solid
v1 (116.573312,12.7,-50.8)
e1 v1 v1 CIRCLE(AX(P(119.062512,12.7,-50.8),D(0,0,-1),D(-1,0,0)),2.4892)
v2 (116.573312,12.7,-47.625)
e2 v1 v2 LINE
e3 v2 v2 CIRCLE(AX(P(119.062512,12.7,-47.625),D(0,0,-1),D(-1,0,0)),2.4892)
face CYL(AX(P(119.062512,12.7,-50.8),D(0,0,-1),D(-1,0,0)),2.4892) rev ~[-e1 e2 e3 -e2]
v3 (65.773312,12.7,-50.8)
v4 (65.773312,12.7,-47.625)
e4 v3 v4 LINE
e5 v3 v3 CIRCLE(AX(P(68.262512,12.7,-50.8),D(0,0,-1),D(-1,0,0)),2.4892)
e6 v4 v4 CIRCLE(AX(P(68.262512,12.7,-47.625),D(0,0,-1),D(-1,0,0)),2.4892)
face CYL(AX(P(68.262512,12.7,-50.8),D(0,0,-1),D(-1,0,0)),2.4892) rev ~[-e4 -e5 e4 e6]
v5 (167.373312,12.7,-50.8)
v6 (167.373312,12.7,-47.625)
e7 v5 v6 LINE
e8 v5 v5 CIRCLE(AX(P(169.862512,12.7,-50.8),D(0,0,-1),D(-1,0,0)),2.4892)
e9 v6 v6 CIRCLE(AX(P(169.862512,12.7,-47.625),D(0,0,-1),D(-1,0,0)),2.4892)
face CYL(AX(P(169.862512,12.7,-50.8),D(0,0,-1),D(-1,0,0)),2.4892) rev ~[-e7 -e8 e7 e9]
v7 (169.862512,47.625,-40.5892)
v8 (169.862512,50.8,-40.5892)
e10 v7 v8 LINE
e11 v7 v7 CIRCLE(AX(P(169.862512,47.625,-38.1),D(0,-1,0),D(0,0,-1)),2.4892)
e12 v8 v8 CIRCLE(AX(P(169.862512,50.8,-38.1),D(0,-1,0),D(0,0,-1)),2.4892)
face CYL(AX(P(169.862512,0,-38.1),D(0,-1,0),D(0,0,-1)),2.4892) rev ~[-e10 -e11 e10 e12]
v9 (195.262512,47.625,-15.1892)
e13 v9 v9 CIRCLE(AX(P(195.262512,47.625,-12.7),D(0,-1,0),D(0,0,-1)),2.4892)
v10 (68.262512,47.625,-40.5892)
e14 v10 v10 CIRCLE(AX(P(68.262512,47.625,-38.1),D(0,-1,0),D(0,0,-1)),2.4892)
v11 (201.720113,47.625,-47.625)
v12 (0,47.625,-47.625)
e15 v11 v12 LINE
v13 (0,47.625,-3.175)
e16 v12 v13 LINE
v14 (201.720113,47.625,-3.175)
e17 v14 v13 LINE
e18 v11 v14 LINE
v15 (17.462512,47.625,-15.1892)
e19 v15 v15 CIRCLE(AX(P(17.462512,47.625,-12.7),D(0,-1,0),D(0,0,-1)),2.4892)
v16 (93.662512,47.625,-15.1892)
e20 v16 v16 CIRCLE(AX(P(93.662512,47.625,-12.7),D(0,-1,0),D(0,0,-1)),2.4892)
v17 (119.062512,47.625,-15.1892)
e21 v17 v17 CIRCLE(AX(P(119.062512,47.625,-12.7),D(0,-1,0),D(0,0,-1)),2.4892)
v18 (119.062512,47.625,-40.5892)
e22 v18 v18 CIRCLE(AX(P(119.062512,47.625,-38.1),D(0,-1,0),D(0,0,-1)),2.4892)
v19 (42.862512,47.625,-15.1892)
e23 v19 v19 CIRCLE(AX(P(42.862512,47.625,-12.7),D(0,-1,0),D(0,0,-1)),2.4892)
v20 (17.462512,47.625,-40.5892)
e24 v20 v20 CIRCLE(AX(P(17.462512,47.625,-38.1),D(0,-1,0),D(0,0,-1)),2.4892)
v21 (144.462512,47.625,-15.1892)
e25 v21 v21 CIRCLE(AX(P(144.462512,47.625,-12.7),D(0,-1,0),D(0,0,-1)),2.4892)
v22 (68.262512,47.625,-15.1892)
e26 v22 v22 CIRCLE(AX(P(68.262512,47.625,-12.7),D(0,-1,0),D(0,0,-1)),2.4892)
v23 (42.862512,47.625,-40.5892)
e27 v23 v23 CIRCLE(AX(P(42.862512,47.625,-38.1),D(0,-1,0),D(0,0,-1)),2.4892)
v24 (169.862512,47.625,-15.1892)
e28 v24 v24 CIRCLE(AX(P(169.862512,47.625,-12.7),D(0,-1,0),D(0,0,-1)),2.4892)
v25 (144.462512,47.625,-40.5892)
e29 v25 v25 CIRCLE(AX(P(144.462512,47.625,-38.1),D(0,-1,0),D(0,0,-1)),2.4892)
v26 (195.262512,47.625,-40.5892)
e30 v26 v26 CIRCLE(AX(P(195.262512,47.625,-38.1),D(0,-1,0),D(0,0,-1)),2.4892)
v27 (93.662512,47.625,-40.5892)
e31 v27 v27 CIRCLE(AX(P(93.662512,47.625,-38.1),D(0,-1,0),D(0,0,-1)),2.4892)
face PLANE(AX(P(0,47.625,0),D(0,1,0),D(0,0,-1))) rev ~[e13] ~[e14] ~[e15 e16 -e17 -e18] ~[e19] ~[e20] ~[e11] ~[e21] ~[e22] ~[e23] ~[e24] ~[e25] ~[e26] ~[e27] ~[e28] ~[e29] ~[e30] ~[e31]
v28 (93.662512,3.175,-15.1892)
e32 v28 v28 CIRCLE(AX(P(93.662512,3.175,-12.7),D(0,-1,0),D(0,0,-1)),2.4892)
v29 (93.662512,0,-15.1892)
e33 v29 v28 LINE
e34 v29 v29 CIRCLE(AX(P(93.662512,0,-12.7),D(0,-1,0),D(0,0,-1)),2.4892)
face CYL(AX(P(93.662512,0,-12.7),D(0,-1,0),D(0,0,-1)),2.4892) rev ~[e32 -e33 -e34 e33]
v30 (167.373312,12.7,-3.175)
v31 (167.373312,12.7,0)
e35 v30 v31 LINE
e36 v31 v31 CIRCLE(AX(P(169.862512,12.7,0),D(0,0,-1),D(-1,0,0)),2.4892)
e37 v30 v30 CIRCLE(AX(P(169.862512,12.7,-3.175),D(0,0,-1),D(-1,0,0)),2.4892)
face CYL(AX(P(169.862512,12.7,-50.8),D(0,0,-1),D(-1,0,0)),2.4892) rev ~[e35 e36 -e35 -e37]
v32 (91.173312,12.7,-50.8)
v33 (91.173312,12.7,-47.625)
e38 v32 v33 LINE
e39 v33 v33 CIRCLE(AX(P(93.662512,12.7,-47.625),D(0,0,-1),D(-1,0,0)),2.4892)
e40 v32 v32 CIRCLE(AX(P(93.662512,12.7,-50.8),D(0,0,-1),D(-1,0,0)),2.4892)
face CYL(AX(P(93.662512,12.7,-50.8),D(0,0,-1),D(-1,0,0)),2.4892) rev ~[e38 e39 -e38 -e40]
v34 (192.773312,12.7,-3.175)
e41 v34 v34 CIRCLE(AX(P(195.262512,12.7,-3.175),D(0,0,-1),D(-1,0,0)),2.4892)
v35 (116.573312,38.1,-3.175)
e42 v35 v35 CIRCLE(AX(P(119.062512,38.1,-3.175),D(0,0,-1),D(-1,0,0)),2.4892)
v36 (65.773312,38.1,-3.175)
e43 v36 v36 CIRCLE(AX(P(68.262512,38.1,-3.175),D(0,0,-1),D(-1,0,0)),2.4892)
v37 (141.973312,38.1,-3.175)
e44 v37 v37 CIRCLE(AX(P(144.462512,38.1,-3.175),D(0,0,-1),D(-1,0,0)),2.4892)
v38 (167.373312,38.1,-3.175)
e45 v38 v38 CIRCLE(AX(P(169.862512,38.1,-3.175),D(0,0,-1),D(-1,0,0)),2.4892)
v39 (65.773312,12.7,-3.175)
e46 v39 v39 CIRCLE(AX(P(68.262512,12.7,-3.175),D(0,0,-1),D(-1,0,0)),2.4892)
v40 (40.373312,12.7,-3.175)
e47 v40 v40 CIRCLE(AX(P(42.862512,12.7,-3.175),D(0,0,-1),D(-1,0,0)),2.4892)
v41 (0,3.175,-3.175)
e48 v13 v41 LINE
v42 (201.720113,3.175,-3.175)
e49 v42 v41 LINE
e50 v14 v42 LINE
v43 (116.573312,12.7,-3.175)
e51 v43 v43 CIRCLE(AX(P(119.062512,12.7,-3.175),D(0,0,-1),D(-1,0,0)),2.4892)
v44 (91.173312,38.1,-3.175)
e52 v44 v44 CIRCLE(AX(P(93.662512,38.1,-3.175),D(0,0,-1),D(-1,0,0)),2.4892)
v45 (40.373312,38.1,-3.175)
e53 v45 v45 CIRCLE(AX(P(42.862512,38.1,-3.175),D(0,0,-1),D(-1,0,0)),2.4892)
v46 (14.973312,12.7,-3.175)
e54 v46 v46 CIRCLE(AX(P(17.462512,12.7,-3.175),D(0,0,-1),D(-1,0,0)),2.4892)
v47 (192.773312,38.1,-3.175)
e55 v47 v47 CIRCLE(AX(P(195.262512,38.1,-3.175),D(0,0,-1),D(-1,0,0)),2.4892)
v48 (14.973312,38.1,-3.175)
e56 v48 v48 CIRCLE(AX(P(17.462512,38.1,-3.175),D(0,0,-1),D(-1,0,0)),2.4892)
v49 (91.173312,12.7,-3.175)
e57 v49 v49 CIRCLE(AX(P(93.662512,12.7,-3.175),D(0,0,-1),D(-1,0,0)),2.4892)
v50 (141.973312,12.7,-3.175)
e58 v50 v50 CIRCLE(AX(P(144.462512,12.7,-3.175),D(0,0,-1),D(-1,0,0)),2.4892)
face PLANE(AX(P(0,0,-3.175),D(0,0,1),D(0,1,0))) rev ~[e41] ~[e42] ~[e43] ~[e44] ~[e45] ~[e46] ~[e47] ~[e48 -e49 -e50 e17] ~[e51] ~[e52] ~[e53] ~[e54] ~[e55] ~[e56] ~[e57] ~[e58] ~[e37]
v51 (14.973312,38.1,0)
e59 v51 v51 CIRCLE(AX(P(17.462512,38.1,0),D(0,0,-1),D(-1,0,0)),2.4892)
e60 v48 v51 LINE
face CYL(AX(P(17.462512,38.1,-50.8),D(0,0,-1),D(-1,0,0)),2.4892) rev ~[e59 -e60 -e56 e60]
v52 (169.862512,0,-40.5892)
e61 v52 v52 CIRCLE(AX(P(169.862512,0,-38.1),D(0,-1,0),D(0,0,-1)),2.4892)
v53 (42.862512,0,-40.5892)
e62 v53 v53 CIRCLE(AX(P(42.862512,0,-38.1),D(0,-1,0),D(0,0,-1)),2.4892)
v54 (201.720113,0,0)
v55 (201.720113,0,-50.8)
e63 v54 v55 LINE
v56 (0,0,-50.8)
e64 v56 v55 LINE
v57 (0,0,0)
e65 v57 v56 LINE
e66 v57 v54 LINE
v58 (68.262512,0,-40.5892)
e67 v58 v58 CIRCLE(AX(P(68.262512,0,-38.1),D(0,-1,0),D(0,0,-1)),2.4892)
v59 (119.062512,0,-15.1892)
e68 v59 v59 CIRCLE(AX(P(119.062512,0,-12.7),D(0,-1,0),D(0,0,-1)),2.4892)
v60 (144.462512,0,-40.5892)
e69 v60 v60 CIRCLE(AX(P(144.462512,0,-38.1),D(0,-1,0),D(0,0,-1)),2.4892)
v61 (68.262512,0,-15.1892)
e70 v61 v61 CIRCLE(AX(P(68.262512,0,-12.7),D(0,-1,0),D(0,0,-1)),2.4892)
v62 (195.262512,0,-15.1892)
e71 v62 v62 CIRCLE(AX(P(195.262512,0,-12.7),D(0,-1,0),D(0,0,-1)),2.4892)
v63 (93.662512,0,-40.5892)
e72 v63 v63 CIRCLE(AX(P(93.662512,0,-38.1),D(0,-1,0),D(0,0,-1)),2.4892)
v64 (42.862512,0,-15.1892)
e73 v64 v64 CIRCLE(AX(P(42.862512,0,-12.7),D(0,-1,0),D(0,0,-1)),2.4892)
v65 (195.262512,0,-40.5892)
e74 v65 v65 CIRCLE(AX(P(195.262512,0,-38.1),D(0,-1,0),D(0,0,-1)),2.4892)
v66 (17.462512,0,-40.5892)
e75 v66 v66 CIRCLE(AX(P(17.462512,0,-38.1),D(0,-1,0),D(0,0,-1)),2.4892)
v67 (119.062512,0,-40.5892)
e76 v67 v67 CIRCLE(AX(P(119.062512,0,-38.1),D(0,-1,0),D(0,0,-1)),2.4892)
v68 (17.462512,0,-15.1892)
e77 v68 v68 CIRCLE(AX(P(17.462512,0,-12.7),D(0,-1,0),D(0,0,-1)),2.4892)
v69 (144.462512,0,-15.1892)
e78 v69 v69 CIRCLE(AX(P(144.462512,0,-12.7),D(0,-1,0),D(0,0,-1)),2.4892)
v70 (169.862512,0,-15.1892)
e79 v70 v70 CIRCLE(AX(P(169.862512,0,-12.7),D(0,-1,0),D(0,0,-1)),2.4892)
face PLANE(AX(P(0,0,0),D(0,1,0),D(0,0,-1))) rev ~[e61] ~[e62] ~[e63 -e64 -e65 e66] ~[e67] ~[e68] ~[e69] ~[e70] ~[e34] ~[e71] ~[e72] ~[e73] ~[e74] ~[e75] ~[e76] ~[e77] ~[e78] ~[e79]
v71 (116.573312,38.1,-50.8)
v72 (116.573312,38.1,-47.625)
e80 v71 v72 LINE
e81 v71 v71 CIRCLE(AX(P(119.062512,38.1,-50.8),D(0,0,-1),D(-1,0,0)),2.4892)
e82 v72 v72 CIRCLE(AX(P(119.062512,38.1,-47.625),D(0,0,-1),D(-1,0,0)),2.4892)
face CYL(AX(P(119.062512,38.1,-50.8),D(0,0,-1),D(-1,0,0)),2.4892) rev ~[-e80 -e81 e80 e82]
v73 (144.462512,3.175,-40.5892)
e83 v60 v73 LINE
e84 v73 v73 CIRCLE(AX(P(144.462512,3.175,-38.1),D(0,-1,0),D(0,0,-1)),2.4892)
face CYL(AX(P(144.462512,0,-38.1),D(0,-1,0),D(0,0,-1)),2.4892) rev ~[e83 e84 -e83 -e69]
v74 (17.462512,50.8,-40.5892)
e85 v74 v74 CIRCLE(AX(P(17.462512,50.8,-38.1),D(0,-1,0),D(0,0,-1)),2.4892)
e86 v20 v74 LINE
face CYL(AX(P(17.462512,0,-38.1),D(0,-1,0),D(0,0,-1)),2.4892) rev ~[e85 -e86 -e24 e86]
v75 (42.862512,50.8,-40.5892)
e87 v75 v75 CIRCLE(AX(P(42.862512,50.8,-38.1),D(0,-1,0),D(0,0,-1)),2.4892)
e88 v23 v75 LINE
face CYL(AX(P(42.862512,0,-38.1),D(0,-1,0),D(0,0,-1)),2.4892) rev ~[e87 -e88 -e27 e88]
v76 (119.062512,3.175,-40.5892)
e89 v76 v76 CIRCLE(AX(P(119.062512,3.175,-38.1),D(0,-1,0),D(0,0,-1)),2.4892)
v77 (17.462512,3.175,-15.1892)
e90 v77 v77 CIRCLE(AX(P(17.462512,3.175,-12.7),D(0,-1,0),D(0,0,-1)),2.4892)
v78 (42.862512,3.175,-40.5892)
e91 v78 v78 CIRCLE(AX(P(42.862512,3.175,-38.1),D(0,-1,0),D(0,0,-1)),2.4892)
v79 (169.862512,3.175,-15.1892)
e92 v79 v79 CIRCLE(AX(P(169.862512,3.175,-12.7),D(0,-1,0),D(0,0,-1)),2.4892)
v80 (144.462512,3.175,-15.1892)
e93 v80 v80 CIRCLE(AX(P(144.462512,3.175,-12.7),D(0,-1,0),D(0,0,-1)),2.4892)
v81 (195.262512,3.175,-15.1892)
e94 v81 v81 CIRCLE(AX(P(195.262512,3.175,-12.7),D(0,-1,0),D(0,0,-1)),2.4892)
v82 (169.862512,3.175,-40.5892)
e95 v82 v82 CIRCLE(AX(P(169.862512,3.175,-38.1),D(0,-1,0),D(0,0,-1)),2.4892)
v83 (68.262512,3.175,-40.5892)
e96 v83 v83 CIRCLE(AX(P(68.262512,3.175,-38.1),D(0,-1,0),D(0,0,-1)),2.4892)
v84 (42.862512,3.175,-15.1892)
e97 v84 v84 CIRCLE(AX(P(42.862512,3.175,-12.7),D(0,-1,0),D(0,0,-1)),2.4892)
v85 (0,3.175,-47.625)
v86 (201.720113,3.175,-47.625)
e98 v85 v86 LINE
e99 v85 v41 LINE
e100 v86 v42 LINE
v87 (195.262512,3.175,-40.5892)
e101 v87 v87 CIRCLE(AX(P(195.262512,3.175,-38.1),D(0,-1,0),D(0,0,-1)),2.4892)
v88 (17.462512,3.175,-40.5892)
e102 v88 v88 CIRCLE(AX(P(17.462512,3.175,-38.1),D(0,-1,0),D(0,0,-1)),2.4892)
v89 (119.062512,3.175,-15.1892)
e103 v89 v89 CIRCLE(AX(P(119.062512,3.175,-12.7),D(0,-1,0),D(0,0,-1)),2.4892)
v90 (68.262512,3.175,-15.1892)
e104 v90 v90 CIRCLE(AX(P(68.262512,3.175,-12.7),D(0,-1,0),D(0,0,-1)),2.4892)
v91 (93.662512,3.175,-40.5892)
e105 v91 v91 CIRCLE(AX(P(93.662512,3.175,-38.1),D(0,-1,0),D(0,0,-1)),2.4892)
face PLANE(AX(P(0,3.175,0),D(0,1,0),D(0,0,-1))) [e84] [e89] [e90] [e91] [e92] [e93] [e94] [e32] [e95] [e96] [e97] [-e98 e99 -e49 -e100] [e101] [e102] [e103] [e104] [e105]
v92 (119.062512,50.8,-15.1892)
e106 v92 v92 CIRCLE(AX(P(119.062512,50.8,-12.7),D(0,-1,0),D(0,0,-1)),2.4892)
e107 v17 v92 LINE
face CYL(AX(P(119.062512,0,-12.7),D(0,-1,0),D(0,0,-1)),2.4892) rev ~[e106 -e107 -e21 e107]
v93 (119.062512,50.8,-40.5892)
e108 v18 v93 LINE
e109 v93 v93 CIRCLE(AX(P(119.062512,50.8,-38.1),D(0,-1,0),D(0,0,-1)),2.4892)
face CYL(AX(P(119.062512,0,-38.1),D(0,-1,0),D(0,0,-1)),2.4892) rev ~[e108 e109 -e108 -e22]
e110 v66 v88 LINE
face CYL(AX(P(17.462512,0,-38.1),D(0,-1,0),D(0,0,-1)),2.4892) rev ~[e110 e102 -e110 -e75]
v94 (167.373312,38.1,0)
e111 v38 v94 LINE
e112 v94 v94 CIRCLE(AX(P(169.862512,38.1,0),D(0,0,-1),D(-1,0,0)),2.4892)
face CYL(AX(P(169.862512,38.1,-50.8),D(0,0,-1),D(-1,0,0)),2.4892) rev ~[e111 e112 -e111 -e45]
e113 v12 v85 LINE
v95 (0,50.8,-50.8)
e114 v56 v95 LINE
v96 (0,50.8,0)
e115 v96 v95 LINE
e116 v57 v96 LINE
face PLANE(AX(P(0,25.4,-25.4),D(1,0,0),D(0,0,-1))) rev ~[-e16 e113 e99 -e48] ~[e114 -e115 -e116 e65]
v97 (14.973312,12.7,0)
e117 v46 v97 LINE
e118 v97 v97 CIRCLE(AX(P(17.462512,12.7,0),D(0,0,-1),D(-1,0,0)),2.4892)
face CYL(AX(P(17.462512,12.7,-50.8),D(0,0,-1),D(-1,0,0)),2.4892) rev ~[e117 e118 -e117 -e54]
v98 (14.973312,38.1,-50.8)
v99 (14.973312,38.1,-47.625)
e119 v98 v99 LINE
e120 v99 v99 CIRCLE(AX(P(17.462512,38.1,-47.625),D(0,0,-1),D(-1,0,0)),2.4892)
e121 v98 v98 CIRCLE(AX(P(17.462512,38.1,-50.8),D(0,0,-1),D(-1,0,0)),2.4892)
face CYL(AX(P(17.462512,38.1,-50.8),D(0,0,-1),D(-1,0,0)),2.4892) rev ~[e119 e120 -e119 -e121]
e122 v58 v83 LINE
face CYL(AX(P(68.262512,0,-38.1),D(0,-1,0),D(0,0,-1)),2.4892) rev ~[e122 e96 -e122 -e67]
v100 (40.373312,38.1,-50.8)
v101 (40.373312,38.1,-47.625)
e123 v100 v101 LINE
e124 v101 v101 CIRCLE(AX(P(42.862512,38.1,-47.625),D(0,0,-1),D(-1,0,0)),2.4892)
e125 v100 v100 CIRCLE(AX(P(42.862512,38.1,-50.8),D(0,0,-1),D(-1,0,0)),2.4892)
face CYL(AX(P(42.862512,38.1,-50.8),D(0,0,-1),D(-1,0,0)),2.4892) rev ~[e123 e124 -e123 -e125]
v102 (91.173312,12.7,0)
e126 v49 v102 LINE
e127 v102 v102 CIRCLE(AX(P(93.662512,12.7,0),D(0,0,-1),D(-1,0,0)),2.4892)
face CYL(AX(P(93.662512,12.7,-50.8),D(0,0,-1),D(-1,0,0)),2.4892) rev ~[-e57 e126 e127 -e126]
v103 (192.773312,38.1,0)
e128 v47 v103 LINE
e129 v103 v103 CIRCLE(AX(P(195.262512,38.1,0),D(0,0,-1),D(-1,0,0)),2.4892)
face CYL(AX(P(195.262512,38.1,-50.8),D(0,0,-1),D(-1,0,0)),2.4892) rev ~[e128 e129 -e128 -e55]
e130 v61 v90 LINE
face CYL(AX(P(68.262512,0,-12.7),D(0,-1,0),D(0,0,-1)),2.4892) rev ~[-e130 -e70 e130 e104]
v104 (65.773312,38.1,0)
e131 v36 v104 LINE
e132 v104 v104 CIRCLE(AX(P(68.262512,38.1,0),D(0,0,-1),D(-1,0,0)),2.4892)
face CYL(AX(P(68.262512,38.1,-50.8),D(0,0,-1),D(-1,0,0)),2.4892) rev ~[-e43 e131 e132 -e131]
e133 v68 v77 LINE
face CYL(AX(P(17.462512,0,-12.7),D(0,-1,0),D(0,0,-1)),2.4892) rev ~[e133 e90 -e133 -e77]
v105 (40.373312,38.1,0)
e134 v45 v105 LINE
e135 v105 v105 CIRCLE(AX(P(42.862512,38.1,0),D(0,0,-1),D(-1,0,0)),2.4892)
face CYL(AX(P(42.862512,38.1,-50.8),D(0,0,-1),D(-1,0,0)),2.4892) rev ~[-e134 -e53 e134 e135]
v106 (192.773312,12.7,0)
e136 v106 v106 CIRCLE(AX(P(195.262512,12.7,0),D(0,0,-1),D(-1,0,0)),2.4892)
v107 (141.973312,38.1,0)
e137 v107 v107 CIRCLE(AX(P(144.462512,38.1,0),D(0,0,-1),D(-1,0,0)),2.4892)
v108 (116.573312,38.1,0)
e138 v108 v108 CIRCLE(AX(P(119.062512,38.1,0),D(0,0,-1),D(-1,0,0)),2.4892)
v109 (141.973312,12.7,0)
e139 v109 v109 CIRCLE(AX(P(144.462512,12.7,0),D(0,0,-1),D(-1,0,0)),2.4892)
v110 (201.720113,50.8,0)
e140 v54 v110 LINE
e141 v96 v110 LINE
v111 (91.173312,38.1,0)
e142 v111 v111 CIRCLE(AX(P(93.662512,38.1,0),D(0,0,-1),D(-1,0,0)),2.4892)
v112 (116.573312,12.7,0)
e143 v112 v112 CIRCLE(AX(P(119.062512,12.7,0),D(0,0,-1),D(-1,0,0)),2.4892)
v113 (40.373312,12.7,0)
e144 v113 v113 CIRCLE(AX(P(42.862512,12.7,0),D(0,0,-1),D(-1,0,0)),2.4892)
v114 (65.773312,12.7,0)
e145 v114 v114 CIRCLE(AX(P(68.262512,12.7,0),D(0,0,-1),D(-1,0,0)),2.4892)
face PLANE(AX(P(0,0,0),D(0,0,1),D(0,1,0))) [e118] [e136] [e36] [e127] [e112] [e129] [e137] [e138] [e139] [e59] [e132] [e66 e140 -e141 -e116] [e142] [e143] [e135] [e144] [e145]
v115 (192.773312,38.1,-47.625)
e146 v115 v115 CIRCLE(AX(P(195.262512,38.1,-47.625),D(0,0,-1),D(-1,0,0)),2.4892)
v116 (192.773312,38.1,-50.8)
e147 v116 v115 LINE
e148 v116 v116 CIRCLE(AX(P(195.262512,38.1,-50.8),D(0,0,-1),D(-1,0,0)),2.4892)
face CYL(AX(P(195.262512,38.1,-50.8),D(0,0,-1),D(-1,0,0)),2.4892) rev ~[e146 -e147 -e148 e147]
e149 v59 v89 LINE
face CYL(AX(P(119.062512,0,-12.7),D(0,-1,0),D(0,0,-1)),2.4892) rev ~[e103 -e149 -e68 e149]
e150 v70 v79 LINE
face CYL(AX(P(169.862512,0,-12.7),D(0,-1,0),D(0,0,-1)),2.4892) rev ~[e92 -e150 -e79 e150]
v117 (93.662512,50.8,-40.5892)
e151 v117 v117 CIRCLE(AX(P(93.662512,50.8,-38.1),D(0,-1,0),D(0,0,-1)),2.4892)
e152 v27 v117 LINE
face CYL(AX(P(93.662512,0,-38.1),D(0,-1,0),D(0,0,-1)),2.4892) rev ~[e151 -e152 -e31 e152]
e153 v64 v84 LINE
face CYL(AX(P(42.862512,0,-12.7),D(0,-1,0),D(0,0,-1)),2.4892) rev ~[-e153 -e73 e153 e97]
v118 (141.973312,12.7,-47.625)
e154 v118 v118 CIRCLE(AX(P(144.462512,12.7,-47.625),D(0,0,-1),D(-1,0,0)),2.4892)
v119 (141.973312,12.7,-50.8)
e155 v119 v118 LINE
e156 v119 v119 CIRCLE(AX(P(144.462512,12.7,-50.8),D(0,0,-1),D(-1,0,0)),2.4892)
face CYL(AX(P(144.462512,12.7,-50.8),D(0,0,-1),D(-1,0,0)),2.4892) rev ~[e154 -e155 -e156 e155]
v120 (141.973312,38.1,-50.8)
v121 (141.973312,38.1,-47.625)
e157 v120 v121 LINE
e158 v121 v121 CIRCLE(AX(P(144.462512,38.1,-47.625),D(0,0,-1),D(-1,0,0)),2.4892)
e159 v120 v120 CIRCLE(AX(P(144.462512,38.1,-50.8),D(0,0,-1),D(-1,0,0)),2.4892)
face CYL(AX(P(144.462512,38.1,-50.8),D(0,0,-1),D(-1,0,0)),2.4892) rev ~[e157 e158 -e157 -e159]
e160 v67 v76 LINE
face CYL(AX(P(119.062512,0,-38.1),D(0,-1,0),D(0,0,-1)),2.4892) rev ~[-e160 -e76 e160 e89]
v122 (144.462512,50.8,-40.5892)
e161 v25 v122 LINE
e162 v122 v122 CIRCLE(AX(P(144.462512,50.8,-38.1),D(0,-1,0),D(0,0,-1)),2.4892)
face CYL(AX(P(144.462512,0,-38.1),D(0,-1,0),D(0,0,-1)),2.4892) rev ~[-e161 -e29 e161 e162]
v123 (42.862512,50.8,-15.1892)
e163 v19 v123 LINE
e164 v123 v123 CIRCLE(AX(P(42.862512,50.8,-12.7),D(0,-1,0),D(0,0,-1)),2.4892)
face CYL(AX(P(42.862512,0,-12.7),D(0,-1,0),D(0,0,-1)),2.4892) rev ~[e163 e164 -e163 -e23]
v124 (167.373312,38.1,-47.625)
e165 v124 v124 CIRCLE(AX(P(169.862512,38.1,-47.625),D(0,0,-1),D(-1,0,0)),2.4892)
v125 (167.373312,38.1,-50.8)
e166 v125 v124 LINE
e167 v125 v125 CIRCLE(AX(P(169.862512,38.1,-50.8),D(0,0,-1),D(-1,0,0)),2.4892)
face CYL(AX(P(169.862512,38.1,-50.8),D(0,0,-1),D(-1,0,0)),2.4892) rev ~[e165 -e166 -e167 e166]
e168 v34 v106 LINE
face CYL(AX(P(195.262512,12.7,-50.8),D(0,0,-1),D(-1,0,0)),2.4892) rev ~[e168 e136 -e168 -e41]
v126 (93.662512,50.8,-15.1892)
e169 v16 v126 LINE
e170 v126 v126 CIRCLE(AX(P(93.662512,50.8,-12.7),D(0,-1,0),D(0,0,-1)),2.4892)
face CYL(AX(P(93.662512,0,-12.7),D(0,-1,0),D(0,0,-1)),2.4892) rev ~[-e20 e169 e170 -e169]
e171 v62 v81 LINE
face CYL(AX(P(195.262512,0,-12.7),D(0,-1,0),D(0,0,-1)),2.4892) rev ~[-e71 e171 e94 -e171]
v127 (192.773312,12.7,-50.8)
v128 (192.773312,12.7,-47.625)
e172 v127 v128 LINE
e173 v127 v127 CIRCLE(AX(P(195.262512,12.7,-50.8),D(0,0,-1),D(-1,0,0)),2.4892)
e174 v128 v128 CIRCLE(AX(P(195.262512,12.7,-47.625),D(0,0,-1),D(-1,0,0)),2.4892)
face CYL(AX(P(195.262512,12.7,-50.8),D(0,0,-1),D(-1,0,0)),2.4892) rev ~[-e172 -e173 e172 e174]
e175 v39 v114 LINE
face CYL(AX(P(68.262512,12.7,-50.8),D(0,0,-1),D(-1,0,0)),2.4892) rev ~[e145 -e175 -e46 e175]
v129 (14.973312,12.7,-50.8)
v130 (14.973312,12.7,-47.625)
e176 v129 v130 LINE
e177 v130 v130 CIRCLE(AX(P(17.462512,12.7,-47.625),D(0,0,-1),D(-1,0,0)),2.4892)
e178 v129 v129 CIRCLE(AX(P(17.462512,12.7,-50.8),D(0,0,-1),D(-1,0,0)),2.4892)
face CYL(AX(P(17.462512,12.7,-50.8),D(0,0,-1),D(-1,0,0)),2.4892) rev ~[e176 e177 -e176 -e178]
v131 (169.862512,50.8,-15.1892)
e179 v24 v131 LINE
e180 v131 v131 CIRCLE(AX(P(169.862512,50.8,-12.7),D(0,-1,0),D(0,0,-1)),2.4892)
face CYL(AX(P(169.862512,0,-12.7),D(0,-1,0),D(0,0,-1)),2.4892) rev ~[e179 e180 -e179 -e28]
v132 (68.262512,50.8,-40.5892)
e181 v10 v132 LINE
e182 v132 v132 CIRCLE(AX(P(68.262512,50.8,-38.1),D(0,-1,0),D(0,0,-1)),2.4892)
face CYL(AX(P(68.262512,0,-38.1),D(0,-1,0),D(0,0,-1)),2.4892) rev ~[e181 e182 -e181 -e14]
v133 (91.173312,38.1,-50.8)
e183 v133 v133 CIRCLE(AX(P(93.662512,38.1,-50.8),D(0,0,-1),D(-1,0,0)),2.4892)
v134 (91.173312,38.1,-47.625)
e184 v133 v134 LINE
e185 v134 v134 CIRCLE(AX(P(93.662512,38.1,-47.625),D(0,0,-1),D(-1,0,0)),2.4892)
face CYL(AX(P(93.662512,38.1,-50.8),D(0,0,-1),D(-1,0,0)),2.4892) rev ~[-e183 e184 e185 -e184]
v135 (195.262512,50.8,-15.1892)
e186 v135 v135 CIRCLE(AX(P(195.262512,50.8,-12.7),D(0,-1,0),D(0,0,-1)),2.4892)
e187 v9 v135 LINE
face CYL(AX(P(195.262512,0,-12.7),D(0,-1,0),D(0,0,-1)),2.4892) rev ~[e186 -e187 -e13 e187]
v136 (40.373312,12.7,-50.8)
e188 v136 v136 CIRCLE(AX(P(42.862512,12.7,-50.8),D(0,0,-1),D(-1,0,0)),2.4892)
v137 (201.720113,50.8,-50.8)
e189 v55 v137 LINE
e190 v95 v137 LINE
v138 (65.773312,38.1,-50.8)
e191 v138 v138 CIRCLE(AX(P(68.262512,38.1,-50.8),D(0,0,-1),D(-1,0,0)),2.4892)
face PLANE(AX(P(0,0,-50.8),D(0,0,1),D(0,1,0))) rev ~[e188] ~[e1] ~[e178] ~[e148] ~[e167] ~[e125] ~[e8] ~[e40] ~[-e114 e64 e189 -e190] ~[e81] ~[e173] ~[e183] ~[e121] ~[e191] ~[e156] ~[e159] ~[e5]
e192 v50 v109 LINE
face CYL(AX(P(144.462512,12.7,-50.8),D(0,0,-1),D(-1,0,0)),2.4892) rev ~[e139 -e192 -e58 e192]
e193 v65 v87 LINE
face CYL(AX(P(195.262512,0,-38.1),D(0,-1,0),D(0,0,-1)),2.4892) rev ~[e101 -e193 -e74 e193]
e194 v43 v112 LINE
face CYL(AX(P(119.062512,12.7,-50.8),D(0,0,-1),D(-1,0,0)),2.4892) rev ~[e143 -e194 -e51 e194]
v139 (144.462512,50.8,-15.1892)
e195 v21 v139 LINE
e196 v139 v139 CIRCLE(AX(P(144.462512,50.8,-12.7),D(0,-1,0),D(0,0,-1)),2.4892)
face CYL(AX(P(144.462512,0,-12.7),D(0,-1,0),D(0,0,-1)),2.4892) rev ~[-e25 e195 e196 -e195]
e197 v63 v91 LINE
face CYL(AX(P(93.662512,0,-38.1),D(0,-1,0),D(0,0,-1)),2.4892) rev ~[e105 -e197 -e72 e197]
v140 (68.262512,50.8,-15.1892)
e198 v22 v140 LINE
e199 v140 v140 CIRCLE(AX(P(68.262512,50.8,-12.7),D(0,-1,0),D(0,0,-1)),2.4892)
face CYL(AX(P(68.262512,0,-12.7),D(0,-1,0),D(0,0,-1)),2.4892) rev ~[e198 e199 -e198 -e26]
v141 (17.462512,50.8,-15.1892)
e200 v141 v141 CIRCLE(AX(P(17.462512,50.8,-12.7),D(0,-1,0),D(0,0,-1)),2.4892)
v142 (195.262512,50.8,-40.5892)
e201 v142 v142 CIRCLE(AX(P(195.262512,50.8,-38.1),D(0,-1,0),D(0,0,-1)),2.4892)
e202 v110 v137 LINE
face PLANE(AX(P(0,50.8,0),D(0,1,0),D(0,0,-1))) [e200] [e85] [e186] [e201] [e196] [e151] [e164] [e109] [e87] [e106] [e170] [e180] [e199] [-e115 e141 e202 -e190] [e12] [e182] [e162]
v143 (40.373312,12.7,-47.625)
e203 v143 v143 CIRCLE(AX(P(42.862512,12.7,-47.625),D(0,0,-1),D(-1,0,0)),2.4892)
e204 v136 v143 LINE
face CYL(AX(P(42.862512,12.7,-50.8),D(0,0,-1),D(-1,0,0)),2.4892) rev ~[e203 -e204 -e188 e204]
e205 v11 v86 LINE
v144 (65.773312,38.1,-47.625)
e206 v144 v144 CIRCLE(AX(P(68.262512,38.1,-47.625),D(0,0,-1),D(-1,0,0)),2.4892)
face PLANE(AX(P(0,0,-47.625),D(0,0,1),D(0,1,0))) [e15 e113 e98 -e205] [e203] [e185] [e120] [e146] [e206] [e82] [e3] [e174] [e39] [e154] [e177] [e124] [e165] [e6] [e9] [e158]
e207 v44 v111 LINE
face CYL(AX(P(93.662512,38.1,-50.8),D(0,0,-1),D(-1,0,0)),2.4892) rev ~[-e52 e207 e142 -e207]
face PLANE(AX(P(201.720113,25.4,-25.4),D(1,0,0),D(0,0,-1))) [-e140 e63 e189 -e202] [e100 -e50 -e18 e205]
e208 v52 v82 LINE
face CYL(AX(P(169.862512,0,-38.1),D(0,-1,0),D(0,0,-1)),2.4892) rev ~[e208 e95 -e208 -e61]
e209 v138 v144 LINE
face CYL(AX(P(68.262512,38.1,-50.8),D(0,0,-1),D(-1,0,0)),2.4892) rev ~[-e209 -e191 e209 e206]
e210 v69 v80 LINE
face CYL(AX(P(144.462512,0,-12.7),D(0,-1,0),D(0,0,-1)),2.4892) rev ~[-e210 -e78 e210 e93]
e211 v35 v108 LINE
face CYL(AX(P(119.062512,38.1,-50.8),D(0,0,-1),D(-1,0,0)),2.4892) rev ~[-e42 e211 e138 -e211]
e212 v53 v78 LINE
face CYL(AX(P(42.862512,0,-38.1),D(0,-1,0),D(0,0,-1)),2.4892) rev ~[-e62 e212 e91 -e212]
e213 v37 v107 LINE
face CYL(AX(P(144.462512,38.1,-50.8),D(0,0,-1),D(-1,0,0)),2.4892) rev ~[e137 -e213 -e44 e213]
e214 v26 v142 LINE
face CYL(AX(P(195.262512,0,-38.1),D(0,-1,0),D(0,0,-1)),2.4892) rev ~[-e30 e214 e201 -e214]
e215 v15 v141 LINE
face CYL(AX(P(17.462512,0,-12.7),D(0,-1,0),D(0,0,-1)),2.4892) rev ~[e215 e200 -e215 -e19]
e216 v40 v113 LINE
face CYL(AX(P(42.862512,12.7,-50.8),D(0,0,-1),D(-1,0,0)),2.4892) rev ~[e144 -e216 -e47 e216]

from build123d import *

# Parameters (mm, degrees)
SKETCH1_W           = 50.8
SKETCH1_H           = 50.8
BOSS_EXTRUDE1_DEPTH = 201.72011345
SHELL1_T            = -3.175
SKETCH2_R           = 2.4892
CUT_EXTRUDE3_DEPTH  = 215.13146469
SKETCH3_R           = 2.4892
CUT_EXTRUDE2_DEPTH  = 215.13146469
LPATTERN1_COUNT     = 8
LPATTERN1_PITCH     = 25.4


with BuildPart() as part:
    # Sketch1 → Boss-Extrude1 (new body)
    with BuildSketch(Plane(origin=(0, 0, 0), x_dir=(0, 0, -1), z_dir=(1, 0, 0))):
        with Locations((25.4, 25.4)):
            Rectangle(SKETCH1_W, SKETCH1_H)
    extrude(amount=BOSS_EXTRUDE1_DEPTH)

    # Shell1
    shell1_openings = [part.faces().sort_by_distance(p)[0] for p in [
        (201.72011345, 25.4, -25.4),
        (0, 25.4, -25.4),
    ]]
    offset(amount=SHELL1_T, openings=shell1_openings, kind=Kind.INTERSECTION)

    # Sketch2 → Cut-Extrude3 (cut, through all)
    with BuildSketch(Plane(origin=(0, 0, -50.8), x_dir=(-1, 0, 0), z_dir=(0, 0, -1))):
        with Locations((-195.262511684, 38.1)):
            Circle(SKETCH2_R)
        with Locations((-195.262511684, 12.7)):
            Circle(SKETCH2_R)
    cut_extrude3 = extrude(amount=-CUT_EXTRUDE3_DEPTH, mode=Mode.SUBTRACT)

    # Sketch3 → Cut-Extrude2 (cut, through all)
    with BuildSketch(Plane.XZ):
        with Locations(Location((195.262511684, -12.7, 0), (0, 0, 270))):
            Circle(SKETCH3_R)
        with Locations(Location((195.262511684, -38.1, 0), (0, 0, 270))):
            Circle(SKETCH3_R)
    cut_extrude2 = extrude(amount=-CUT_EXTRUDE2_DEPTH, mode=Mode.SUBTRACT)

    # LPattern1: Cut-Extrude3, Cut-Extrude2 ×8
    with Locations(*[(-i * LPATTERN1_PITCH, 0, 0) for i in range(1, LPATTERN1_COUNT)]):
        add(cut_extrude3, mode=Mode.SUBTRACT)
        add(cut_extrude2, mode=Mode.SUBTRACT)


solid = part.part
